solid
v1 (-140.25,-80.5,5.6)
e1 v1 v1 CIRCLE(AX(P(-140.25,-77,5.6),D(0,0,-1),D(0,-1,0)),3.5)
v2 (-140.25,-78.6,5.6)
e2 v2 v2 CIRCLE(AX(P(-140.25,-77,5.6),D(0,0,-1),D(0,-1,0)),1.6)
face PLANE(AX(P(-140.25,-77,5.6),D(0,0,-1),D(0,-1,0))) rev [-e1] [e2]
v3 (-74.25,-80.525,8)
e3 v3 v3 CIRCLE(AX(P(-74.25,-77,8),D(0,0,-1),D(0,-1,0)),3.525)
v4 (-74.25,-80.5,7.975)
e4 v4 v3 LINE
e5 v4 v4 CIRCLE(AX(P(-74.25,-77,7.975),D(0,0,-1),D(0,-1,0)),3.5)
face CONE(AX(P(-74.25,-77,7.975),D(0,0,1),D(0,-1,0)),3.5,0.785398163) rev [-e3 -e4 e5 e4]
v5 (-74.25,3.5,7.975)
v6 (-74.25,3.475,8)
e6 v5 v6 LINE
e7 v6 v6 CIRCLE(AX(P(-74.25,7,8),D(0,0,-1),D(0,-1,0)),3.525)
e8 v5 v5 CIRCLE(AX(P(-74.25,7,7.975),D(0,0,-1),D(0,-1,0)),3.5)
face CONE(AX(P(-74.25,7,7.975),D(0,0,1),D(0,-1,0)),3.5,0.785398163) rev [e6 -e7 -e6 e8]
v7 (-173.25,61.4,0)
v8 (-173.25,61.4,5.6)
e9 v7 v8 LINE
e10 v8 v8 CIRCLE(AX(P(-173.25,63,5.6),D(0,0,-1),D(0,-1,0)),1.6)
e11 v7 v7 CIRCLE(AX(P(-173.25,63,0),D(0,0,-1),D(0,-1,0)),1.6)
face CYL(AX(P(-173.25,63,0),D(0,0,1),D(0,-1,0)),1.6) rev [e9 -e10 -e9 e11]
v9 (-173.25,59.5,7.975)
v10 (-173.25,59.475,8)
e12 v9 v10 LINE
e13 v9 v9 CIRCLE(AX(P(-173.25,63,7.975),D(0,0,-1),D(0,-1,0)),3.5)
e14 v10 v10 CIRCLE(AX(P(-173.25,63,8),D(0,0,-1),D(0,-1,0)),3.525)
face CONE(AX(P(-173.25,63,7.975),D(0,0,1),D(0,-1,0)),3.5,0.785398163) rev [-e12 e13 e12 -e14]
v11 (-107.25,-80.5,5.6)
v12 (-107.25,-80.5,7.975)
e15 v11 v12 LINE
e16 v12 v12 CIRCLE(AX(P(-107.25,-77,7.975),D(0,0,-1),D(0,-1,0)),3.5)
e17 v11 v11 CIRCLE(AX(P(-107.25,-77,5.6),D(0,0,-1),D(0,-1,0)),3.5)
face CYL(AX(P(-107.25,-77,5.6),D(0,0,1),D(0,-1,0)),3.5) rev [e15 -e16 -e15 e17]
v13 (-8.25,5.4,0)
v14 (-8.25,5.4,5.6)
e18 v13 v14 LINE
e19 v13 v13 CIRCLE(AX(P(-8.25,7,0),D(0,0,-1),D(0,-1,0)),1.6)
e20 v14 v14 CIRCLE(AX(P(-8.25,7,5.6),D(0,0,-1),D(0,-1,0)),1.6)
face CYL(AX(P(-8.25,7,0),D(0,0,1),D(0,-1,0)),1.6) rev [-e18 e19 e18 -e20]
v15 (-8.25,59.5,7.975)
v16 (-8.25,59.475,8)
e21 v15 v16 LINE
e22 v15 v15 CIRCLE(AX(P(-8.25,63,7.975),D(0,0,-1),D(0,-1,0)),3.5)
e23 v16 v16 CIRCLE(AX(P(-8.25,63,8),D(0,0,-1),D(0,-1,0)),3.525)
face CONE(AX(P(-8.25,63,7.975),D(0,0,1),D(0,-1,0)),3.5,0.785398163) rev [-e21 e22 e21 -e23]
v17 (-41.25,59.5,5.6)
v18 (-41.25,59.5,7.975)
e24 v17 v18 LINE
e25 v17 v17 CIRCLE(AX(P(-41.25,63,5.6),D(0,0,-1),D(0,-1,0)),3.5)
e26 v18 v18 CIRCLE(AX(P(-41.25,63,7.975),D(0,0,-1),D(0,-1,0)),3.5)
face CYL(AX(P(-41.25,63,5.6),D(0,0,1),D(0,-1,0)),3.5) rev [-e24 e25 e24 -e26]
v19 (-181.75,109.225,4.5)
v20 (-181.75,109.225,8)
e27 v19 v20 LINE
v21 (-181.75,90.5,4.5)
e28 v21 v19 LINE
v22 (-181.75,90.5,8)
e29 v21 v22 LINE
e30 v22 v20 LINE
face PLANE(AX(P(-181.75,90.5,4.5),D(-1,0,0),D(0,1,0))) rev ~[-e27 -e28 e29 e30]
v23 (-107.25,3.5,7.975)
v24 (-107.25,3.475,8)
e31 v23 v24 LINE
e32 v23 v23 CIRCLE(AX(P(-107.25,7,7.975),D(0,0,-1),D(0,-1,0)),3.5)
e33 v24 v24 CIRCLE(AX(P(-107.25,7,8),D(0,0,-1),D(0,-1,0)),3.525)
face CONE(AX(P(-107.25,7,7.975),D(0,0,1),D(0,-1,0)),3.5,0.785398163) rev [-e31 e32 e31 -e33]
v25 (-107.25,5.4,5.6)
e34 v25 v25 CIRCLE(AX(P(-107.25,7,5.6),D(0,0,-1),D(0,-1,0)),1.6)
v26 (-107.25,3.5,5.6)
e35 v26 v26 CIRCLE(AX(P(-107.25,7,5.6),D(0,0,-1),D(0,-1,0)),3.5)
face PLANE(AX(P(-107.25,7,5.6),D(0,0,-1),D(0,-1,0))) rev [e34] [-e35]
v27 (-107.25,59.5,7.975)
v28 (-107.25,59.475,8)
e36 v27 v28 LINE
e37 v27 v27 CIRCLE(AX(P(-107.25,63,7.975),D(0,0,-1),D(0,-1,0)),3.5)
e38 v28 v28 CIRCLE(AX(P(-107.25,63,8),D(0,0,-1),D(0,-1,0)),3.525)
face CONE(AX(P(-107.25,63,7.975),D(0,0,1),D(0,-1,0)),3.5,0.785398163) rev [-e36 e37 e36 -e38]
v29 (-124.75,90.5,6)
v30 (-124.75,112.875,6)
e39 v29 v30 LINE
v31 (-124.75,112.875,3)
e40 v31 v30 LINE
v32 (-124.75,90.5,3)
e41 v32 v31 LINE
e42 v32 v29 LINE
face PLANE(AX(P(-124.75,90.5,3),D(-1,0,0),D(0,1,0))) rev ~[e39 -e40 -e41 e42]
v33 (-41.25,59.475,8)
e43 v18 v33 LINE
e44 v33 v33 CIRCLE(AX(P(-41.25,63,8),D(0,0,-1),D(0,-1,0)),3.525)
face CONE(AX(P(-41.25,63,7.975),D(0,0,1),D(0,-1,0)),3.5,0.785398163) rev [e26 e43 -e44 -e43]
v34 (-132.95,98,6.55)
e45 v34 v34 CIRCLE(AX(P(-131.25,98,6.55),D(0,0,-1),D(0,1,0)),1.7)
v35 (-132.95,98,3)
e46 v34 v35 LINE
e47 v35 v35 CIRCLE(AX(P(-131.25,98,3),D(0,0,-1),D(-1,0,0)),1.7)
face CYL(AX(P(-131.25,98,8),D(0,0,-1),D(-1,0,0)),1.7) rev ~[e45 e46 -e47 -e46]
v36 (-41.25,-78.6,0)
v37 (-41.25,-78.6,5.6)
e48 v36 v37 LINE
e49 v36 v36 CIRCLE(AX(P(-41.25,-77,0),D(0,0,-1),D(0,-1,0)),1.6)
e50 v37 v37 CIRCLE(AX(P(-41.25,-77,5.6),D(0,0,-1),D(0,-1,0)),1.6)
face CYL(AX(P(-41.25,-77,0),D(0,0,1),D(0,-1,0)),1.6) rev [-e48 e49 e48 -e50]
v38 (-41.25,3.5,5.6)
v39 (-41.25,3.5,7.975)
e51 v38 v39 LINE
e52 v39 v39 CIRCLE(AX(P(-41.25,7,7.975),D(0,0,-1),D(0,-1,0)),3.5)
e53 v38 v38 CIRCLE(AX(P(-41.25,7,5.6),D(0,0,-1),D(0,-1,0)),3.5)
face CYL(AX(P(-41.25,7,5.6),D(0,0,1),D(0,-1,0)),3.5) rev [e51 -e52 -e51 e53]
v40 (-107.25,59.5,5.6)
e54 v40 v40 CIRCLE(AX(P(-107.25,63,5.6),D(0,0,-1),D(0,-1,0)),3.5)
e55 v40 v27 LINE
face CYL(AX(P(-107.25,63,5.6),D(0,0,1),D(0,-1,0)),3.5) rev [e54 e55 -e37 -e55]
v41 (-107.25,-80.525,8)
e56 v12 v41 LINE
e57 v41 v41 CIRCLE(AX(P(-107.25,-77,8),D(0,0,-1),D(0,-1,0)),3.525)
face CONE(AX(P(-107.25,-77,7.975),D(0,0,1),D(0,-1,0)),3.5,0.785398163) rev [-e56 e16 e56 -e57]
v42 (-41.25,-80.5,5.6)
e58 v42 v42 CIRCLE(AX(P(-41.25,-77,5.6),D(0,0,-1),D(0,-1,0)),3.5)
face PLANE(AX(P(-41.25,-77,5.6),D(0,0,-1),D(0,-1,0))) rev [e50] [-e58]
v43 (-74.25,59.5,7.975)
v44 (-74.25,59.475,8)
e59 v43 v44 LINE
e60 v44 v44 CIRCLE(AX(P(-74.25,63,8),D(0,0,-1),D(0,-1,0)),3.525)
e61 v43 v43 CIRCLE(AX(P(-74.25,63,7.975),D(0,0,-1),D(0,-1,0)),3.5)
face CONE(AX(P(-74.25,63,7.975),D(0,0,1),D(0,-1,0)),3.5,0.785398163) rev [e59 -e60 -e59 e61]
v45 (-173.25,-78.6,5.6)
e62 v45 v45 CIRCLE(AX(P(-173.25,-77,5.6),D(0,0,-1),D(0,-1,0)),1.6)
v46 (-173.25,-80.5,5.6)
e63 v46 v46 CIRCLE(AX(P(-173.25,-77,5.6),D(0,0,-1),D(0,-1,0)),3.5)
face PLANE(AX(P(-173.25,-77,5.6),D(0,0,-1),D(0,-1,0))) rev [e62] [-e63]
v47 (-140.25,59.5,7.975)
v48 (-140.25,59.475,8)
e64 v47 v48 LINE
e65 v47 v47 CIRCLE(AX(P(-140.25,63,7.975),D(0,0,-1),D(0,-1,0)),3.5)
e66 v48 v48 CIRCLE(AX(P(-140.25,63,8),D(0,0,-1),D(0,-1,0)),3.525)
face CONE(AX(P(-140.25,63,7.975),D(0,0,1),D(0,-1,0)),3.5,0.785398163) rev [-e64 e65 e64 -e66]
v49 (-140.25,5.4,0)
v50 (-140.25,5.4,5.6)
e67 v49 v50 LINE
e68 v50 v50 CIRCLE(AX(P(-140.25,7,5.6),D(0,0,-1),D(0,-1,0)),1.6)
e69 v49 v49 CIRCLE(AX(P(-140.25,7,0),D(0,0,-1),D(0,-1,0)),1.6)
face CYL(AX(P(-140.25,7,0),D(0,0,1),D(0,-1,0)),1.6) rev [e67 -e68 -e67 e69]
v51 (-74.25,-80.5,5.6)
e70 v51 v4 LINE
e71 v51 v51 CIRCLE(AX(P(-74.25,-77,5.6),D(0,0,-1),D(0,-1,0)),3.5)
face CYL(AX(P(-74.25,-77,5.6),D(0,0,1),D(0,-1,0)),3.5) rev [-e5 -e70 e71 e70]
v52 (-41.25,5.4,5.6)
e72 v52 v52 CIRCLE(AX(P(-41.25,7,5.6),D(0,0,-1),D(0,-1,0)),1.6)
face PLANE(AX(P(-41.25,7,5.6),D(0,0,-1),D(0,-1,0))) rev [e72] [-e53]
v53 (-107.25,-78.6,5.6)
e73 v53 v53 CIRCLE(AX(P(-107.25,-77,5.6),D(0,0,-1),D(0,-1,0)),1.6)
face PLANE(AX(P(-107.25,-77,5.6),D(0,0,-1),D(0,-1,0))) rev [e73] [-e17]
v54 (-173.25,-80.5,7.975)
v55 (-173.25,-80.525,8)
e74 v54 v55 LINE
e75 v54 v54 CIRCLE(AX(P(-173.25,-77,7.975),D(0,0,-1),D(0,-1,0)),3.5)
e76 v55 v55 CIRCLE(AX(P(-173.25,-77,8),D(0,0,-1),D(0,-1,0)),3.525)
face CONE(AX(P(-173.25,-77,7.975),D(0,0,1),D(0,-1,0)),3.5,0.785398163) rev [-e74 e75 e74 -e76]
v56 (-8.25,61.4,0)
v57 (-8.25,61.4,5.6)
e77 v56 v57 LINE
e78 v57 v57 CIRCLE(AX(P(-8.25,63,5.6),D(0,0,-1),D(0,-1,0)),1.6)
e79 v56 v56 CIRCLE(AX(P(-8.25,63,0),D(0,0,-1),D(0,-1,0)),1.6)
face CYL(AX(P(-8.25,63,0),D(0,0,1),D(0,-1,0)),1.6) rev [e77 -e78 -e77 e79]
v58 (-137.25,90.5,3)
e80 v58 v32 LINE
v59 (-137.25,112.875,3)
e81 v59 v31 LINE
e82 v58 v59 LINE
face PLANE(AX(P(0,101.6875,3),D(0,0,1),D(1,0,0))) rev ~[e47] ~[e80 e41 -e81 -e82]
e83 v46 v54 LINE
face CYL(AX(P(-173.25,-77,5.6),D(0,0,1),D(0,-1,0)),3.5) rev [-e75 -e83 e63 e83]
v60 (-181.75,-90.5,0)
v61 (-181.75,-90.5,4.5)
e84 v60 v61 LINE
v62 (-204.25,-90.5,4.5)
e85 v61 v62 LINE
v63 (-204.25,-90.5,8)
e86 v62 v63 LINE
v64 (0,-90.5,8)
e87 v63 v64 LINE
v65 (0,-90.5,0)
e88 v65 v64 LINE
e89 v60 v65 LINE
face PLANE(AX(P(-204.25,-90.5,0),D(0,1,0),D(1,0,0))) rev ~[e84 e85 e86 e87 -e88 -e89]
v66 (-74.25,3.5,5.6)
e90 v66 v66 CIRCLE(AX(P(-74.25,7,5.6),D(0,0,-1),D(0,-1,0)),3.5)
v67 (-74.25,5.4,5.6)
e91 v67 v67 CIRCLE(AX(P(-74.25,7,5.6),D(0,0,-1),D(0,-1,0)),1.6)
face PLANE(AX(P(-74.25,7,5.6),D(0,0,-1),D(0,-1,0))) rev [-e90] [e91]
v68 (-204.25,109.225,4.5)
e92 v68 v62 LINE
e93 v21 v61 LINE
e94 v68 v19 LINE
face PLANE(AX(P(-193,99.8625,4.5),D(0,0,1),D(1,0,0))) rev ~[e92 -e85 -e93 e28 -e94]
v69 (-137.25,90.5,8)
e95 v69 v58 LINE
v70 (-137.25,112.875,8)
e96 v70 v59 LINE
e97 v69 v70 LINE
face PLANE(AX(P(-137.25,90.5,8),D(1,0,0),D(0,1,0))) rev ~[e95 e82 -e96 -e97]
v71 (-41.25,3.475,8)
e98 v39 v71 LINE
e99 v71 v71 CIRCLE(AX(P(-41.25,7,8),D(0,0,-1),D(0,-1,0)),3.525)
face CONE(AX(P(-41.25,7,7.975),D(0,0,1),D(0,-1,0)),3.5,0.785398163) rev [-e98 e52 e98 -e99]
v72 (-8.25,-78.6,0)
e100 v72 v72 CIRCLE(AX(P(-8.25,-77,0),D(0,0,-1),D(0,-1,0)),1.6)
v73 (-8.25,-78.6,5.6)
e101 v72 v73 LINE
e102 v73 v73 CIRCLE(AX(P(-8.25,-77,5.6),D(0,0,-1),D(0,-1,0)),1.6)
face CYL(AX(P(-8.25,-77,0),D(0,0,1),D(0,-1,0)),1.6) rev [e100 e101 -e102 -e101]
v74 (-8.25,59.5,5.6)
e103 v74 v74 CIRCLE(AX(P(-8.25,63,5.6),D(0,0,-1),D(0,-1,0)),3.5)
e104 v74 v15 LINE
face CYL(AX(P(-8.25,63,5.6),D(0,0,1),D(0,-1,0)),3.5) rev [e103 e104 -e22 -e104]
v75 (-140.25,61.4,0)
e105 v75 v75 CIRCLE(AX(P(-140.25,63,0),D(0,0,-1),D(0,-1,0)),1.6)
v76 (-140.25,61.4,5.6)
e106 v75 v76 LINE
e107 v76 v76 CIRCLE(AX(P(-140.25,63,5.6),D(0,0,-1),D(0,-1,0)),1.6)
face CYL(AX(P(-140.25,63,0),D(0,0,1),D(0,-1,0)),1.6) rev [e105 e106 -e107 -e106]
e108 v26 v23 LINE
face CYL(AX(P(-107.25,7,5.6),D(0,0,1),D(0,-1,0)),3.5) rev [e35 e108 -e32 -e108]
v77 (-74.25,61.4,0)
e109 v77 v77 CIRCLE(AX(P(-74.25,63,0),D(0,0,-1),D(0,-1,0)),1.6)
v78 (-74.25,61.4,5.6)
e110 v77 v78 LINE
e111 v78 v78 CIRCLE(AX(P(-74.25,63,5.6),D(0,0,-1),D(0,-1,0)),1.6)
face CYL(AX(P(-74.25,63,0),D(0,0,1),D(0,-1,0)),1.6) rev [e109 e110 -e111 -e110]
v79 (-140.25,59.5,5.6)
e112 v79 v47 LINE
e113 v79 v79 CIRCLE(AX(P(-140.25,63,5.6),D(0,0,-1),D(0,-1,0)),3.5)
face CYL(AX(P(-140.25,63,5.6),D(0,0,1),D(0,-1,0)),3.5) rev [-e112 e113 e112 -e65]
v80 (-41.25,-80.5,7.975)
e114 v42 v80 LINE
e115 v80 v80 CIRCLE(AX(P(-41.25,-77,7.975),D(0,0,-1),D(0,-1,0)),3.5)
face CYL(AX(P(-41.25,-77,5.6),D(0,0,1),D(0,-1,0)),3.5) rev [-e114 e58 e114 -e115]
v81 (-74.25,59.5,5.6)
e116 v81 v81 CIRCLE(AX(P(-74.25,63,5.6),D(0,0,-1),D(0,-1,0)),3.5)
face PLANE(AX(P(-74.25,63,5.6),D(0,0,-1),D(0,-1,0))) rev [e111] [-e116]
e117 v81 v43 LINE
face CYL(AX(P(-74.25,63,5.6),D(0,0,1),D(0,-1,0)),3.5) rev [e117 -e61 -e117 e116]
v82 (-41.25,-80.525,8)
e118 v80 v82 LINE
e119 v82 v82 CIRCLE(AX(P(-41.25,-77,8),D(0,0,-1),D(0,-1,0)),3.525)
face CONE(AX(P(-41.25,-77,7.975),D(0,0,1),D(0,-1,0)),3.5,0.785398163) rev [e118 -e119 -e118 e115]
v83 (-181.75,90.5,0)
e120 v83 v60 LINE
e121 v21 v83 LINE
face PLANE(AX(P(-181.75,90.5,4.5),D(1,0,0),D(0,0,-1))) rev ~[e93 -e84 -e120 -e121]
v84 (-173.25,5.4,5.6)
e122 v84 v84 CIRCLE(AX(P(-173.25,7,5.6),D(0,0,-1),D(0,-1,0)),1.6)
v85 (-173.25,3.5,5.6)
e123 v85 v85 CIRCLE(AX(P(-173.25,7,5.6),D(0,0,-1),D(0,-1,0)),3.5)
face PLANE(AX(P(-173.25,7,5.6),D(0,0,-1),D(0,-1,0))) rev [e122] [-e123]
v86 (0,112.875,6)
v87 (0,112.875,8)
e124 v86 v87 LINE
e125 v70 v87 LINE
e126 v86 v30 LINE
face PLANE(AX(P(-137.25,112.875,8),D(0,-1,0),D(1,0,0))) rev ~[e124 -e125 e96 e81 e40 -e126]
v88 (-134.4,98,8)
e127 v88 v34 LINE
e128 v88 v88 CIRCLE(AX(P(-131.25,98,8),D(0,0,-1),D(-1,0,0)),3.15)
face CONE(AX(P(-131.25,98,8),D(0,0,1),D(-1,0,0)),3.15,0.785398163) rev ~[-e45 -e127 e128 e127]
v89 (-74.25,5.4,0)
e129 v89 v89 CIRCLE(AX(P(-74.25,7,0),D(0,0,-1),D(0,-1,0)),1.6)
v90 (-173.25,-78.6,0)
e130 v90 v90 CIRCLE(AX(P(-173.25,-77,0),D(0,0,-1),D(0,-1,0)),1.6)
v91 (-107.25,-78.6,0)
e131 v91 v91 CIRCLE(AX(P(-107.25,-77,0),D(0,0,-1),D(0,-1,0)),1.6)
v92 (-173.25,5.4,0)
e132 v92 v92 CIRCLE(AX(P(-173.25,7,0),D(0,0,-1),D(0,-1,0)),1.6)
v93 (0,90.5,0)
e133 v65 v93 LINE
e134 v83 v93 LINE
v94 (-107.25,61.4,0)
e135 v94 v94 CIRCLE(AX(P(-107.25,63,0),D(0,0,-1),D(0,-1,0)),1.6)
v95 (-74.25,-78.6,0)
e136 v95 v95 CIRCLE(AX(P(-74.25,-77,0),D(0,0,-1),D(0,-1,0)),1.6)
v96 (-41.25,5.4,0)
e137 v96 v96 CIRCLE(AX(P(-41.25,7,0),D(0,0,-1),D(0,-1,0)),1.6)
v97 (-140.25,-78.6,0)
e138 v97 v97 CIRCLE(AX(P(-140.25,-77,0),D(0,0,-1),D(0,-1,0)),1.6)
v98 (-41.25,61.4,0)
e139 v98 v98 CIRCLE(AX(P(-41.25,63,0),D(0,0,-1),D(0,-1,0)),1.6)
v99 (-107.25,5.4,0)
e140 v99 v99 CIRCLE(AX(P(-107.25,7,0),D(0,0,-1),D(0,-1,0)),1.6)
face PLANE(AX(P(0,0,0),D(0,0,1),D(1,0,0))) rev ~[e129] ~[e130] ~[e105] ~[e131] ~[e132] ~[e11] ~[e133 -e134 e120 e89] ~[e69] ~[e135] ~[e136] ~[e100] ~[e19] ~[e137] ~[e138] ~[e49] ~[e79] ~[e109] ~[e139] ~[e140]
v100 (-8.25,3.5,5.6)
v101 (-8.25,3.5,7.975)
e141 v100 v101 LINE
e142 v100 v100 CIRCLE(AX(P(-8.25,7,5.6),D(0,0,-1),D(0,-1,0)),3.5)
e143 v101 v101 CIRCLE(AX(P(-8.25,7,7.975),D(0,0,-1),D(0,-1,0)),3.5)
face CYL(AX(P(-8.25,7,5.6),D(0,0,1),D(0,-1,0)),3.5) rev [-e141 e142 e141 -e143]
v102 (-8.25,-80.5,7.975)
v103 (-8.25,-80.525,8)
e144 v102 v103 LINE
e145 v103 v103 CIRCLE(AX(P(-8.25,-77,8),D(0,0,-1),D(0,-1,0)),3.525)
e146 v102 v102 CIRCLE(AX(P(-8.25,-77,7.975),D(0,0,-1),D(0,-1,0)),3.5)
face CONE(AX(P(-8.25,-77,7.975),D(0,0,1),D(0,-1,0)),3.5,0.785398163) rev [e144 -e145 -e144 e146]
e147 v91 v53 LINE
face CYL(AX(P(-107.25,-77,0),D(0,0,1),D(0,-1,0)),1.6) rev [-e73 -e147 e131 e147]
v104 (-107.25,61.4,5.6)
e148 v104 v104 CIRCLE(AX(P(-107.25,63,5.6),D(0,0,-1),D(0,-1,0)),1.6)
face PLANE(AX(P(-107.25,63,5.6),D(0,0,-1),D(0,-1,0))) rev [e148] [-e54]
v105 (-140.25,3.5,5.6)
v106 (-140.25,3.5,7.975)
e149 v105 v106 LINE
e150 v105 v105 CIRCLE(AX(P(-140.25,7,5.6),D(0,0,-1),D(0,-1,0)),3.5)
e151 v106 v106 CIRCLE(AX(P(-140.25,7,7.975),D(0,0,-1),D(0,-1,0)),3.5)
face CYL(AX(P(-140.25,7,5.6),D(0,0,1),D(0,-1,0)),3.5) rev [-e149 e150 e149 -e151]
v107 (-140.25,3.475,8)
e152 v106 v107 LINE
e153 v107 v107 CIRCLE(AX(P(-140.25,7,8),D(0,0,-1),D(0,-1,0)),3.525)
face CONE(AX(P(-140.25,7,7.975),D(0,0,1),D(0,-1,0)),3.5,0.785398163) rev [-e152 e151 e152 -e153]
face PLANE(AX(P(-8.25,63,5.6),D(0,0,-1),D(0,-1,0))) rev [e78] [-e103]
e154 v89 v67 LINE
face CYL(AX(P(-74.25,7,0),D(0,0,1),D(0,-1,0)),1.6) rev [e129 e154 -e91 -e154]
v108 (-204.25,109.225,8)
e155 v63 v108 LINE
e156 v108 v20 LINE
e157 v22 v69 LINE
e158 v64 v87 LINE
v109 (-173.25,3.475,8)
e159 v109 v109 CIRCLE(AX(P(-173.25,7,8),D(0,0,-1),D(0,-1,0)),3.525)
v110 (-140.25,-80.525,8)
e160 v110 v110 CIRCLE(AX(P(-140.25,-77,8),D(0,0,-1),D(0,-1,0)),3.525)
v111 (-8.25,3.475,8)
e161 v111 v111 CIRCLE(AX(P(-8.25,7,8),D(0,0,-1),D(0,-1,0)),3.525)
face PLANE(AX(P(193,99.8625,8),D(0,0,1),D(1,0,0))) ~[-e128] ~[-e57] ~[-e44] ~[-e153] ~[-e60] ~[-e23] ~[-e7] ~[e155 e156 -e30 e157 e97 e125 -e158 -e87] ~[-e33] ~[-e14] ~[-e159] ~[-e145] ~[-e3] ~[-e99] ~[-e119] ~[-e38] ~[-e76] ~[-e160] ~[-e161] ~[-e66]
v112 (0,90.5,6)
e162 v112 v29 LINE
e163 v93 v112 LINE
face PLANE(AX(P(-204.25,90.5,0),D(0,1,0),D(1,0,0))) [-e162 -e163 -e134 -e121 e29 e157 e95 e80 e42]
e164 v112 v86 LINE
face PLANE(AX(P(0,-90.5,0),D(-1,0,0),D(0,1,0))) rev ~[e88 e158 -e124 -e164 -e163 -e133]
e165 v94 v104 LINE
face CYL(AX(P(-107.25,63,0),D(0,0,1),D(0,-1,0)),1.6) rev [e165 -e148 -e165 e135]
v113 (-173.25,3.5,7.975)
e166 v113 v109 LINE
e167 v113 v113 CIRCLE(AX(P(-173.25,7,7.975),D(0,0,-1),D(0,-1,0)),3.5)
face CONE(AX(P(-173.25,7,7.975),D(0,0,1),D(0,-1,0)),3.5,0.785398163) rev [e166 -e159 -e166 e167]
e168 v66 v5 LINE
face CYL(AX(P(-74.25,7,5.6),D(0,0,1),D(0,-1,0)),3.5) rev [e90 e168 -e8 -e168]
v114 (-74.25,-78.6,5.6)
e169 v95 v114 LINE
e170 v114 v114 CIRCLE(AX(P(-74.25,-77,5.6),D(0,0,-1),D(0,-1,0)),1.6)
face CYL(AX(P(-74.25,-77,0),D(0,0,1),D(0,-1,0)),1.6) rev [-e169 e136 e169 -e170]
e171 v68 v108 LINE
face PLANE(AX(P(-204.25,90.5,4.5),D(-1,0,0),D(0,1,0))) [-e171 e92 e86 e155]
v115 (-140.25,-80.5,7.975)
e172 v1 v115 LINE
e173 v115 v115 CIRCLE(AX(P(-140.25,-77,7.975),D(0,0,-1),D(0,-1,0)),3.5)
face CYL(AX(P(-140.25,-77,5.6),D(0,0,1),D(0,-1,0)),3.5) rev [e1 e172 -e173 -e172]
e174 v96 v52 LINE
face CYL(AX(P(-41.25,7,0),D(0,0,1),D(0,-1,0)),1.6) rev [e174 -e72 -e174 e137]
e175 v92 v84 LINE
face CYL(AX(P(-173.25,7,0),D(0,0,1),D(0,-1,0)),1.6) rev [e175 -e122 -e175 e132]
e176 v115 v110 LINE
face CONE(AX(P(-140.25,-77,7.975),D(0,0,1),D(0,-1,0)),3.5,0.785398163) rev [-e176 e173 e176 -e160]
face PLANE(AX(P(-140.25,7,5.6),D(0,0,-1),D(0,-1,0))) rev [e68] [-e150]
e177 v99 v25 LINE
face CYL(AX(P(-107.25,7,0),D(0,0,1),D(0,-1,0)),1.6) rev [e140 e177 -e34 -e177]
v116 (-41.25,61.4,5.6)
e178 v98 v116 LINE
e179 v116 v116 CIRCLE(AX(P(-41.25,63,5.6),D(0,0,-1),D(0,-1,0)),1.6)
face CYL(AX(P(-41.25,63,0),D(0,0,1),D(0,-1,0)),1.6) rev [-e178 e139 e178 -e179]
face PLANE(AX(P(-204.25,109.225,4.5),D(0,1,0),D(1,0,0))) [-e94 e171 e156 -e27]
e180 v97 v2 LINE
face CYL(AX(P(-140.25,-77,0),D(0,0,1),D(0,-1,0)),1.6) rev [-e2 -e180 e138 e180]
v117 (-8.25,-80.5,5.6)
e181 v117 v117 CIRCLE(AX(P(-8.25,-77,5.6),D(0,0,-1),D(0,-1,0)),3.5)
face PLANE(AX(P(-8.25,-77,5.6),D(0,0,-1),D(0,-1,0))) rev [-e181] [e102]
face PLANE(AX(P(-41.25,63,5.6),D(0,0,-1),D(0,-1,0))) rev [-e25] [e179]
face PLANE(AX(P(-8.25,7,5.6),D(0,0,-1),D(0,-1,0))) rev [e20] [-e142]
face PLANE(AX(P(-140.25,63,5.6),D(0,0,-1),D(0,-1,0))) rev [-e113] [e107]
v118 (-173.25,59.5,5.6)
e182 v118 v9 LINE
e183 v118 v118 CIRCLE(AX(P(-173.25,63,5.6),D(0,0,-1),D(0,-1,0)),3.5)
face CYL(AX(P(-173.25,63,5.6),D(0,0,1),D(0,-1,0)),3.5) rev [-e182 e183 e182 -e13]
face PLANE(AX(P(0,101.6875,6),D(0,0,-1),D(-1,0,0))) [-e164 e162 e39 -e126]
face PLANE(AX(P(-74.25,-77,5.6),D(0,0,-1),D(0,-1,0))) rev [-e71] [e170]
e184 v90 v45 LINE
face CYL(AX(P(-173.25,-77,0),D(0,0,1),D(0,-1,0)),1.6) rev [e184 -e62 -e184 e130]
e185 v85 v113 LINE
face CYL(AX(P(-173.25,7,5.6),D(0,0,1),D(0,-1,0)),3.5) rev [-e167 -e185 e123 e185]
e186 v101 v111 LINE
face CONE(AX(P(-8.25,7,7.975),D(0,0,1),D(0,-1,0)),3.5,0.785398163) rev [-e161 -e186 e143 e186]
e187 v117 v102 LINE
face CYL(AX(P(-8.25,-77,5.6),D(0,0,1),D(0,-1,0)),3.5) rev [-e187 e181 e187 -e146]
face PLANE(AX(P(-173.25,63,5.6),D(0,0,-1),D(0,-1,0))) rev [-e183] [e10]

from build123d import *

# Parameters (mm, degrees)
ESQUISSE1_W                                    = 408.5
ESQUISSE1_H                                    = 181
BOSS_EXTRU_1_DEPTH                             = 8
CHAMBRAGE_POUR_VIS_T_TE_RONDE_BOMB_2_COUNT     = 2
CHAMBRAGE_POUR_VIS_T_TE_RONDE_BOMB_2_PITCH     = 56
CHAMBRAGE_POUR_VIS_T_TE_RONDE_BOMB_3_COUNT     = 2
CHAMBRAGE_POUR_VIS_T_TE_RONDE_BOMB_3_PITCH     = 140
R_P_TITION_LIN_AIRE1_COUNT                     = 11
R_P_TITION_LIN_AIRE1_PITCH                     = 33
ENL_V_MAT_EXTRU_1_REACH                        = 275.026
ESQUISSE6_W                                    = 22.5
ESQUISSE6_H                                    = 4.5
BOSS_EXTRU_2_START                             = -3.5
ESQUISSE7_W                                    = 22.5
ESQUISSE7_H                                    = 18.725
BOSS_EXTRU_2_DEPTH                             = 3.5
ESQUISSE8_W                                    = 274.5
ESQUISSE8_H                                    = 22.375
BOSS_EXTRU_3_DEPTH                             = 5
FRAISAGE_POUR_VIS_T_TE_FRAIS_E_M31_D           = 3.4
FRAISAGE_POUR_VIS_T_TE_FRAIS_E_M31_CSINK_D     = 6.3
FRAISAGE_POUR_VIS_T_TE_FRAIS_E_M31_CSINK_ANGLE = 90
ESQUISSE12_W                                   = 249.5
ESQUISSE12_H                                   = 22.375
ENL_V_MAT_EXTRU_2_DEPTH                        = 3
ESQUISSE13_W                                   = 204.25
ESQUISSE13_H                                   = 203.375
ENL_V_MAT_EXTRU_3_DEPTH                        = 10


with BuildPart() as part:
    # Esquisse1 → Boss.-Extru.1 (new body)
    with BuildSketch(Plane.XY):
        Rectangle(ESQUISSE1_W, ESQUISSE1_H)
    extrude(amount=BOSS_EXTRU_1_DEPTH)

    # Esquisse3 → Chambrage pour vis à tête ronde bombée M31 (revolve, cut)
    with BuildSketch(Plane(origin=(-173.25, 63, 8), x_dir=(0, -1, 0), z_dir=(1, 0, 0))):
        Polygon((0, 0), (0, 8), (1.6, 8), (1.6, 2.4), (3.5, 2.4), (3.5, 0.025), (3.525, 0), align=None)
    chambrage_pour_vis_t_te_ronde_bomb_e_m = revolve(axis=Axis((-173.25, 63, 14.35), (0, 0, -1)), mode=Mode.SUBTRACT)

    # Chambrage pour vis _ t_te ronde bomb 2: Chambrage pour vis à tête ronde bombée M31 ×2
    with Locations(*[(0, -i * CHAMBRAGE_POUR_VIS_T_TE_RONDE_BOMB_2_PITCH, 0) for i in range(1, CHAMBRAGE_POUR_VIS_T_TE_RONDE_BOMB_2_COUNT)]):
        add(chambrage_pour_vis_t_te_ronde_bomb_e_m, mode=Mode.SUBTRACT)

    # Chambrage pour vis _ t_te ronde bomb 3: Chambrage pour vis à tête ronde bombée M31 ×2
    with Locations(*[(0, -i * CHAMBRAGE_POUR_VIS_T_TE_RONDE_BOMB_3_PITCH, 0) for i in range(1, CHAMBRAGE_POUR_VIS_T_TE_RONDE_BOMB_3_COUNT)]):
        add(chambrage_pour_vis_t_te_ronde_bomb_e_m, mode=Mode.SUBTRACT)

    # Répétition linéaire1: Chambrage pour vis à tête ronde bombée M31 ×11
    with Locations(*[(i * R_P_TITION_LIN_AIRE1_PITCH, 0, 0) for i in range(1, R_P_TITION_LIN_AIRE1_COUNT)]):
        add(chambrage_pour_vis_t_te_ronde_bomb_e_m, mode=Mode.SUBTRACT)

    # Répétition linéaire1 copy 1 sketch → Répétition linéaire1 copy 1 (revolve, cut)
    with BuildSketch(Plane(origin=(-140.25, 7, 8), x_dir=(0, -1, 0), z_dir=(1, 0, 0))):
        Polygon((0, 0), (0, 8), (1.6, 8), (1.6, 2.4), (3.5, 2.4), (3.5, 0.025), (3.525, 0), align=None)
    revolve(axis=Axis((-140.25, 7, 14.35), (0, 0, -1)), mode=Mode.SUBTRACT)

    # Répétition linéaire1 copy 2 sketch → Répétition linéaire1 copy 2 (revolve, cut)
    with BuildSketch(Plane(origin=(-107.25, 7, 8), x_dir=(0, -1, 0), z_dir=(1, 0, 0))):
        Polygon((0, 0), (0, 8), (1.6, 8), (1.6, 2.4), (3.5, 2.4), (3.5, 0.025), (3.525, 0), align=None)
    revolve(axis=Axis((-107.25, 7, 14.35), (0, 0, -1)), mode=Mode.SUBTRACT)

    # Répétition linéaire1 copy 3 sketch → Répétition linéaire1 copy 3 (revolve, cut)
    with BuildSketch(Plane(origin=(-74.25, 7, 8), x_dir=(0, -1, 0), z_dir=(1, 0, 0))):
        Polygon((0, 0), (0, 8), (1.6, 8), (1.6, 2.4), (3.5, 2.4), (3.5, 0.025), (3.525, 0), align=None)
    revolve(axis=Axis((-74.25, 7, 14.35), (0, 0, -1)), mode=Mode.SUBTRACT)

    # Répétition linéaire1 copy 4 sketch → Répétition linéaire1 copy 4 (revolve, cut)
    with BuildSketch(Plane(origin=(-41.25, 7, 8), x_dir=(0, -1, 0), z_dir=(1, 0, 0))):
        Polygon((0, 0), (0, 8), (1.6, 8), (1.6, 2.4), (3.5, 2.4), (3.5, 0.025), (3.525, 0), align=None)
    revolve(axis=Axis((-41.25, 7, 14.35), (0, 0, -1)), mode=Mode.SUBTRACT)

    # Répétition linéaire1 copy 5 sketch → Répétition linéaire1 copy 5 (revolve, cut)
    with BuildSketch(Plane(origin=(-8.25, 7, 8), x_dir=(0, -1, 0), z_dir=(1, 0, 0))):
        Polygon((0, 0), (0, 8), (1.6, 8), (1.6, 2.4), (3.5, 2.4), (3.5, 0.025), (3.525, 0), align=None)
    revolve(axis=Axis((-8.25, 7, 14.35), (0, 0, -1)), mode=Mode.SUBTRACT)

    # Répétition linéaire1 copy 6 sketch → Répétition linéaire1 copy 6 (revolve, cut)
    with BuildSketch(Plane(origin=(24.75, 7, 8), x_dir=(0, -1, 0), z_dir=(1, 0, 0))):
        Polygon((0, 0), (0, 8), (1.6, 8), (1.6, 2.4), (3.5, 2.4), (3.5, 0.025), (3.525, 0), align=None)
    revolve(axis=Axis((24.75, 7, 14.35), (0, 0, -1)), mode=Mode.SUBTRACT)

    # Répétition linéaire1 copy 7 sketch → Répétition linéaire1 copy 7 (revolve, cut)
    with BuildSketch(Plane(origin=(57.75, 7, 8), x_dir=(0, -1, 0), z_dir=(1, 0, 0))):
        Polygon((0, 0), (0, 8), (1.6, 8), (1.6, 2.4), (3.5, 2.4), (3.5, 0.025), (3.525, 0), align=None)
    revolve(axis=Axis((57.75, 7, 14.35), (0, 0, -1)), mode=Mode.SUBTRACT)

    # Répétition linéaire1 copy 8 sketch → Répétition linéaire1 copy 8 (revolve, cut)
    with BuildSketch(Plane(origin=(90.75, 7, 8), x_dir=(0, -1, 0), z_dir=(1, 0, 0))):
        Polygon((0, 0), (0, 8), (1.6, 8), (1.6, 2.4), (3.5, 2.4), (3.5, 0.025), (3.525, 0), align=None)
    revolve(axis=Axis((90.75, 7, 14.35), (0, 0, -1)), mode=Mode.SUBTRACT)

    # Répétition linéaire1 copy 9 sketch → Répétition linéaire1 copy 9 (revolve, cut)
    with BuildSketch(Plane(origin=(123.75, 7, 8), x_dir=(0, -1, 0), z_dir=(1, 0, 0))):
        Polygon((0, 0), (0, 8), (1.6, 8), (1.6, 2.4), (3.5, 2.4), (3.5, 0.025), (3.525, 0), align=None)
    revolve(axis=Axis((123.75, 7, 14.35), (0, 0, -1)), mode=Mode.SUBTRACT)

    # Répétition linéaire1 copy 10 sketch → Répétition linéaire1 copy 10 (revolve, cut)
    with BuildSketch(Plane(origin=(156.75, 7, 8), x_dir=(0, -1, 0), z_dir=(1, 0, 0))):
        Polygon((0, 0), (0, 8), (1.6, 8), (1.6, 2.4), (3.5, 2.4), (3.5, 0.025), (3.525, 0), align=None)
    revolve(axis=Axis((156.75, 7, 14.35), (0, 0, -1)), mode=Mode.SUBTRACT)

    # Répétition linéaire1 copy 11 sketch → Répétition linéaire1 copy 11 (revolve, cut)
    with BuildSketch(Plane(origin=(-140.25, -77, 8), x_dir=(0, -1, 0), z_dir=(1, 0, 0))):
        Polygon((0, 0), (0, 8), (1.6, 8), (1.6, 2.4), (3.5, 2.4), (3.5, 0.025), (3.525, 0), align=None)
    revolve(axis=Axis((-140.25, -77, 14.35), (0, 0, -1)), mode=Mode.SUBTRACT)

    # Répétition linéaire1 copy 12 sketch → Répétition linéaire1 copy 12 (revolve, cut)
    with BuildSketch(Plane(origin=(-107.25, -77, 8), x_dir=(0, -1, 0), z_dir=(1, 0, 0))):
        Polygon((0, 0), (0, 8), (1.6, 8), (1.6, 2.4), (3.5, 2.4), (3.5, 0.025), (3.525, 0), align=None)
    revolve(axis=Axis((-107.25, -77, 14.35), (0, 0, -1)), mode=Mode.SUBTRACT)

    # Répétition linéaire1 copy 13 sketch → Répétition linéaire1 copy 13 (revolve, cut)
    with BuildSketch(Plane(origin=(-74.25, -77, 8), x_dir=(0, -1, 0), z_dir=(1, 0, 0))):
        Polygon((0, 0), (0, 8), (1.6, 8), (1.6, 2.4), (3.5, 2.4), (3.5, 0.025), (3.525, 0), align=None)
    revolve(axis=Axis((-74.25, -77, 14.35), (0, 0, -1)), mode=Mode.SUBTRACT)

    # Répétition linéaire1 copy 14 sketch → Répétition linéaire1 copy 14 (revolve, cut)
    with BuildSketch(Plane(origin=(-41.25, -77, 8), x_dir=(0, -1, 0), z_dir=(1, 0, 0))):
        Polygon((0, 0), (0, 8), (1.6, 8), (1.6, 2.4), (3.5, 2.4), (3.5, 0.025), (3.525, 0), align=None)
    revolve(axis=Axis((-41.25, -77, 14.35), (0, 0, -1)), mode=Mode.SUBTRACT)

    # Répétition linéaire1 copy 15 sketch → Répétition linéaire1 copy 15 (revolve, cut)
    with BuildSketch(Plane(origin=(-8.25, -77, 8), x_dir=(0, -1, 0), z_dir=(1, 0, 0))):
        Polygon((0, 0), (0, 8), (1.6, 8), (1.6, 2.4), (3.5, 2.4), (3.5, 0.025), (3.525, 0), align=None)
    revolve(axis=Axis((-8.25, -77, 14.35), (0, 0, -1)), mode=Mode.SUBTRACT)

    # Répétition linéaire1 copy 16 sketch → Répétition linéaire1 copy 16 (revolve, cut)
    with BuildSketch(Plane(origin=(24.75, -77, 8), x_dir=(0, -1, 0), z_dir=(1, 0, 0))):
        Polygon((0, 0), (0, 8), (1.6, 8), (1.6, 2.4), (3.5, 2.4), (3.5, 0.025), (3.525, 0), align=None)
    revolve(axis=Axis((24.75, -77, 14.35), (0, 0, -1)), mode=Mode.SUBTRACT)

    # Répétition linéaire1 copy 17 sketch → Répétition linéaire1 copy 17 (revolve, cut)
    with BuildSketch(Plane(origin=(57.75, -77, 8), x_dir=(0, -1, 0), z_dir=(1, 0, 0))):
        Polygon((0, 0), (0, 8), (1.6, 8), (1.6, 2.4), (3.5, 2.4), (3.5, 0.025), (3.525, 0), align=None)
    revolve(axis=Axis((57.75, -77, 14.35), (0, 0, -1)), mode=Mode.SUBTRACT)

    # Répétition linéaire1 copy 18 sketch → Répétition linéaire1 copy 18 (revolve, cut)
    with BuildSketch(Plane(origin=(90.75, -77, 8), x_dir=(0, -1, 0), z_dir=(1, 0, 0))):
        Polygon((0, 0), (0, 8), (1.6, 8), (1.6, 2.4), (3.5, 2.4), (3.5, 0.025), (3.525, 0), align=None)
    revolve(axis=Axis((90.75, -77, 14.35), (0, 0, -1)), mode=Mode.SUBTRACT)

    # Répétition linéaire1 copy 19 sketch → Répétition linéaire1 copy 19 (revolve, cut)
    with BuildSketch(Plane(origin=(123.75, -77, 8), x_dir=(0, -1, 0), z_dir=(1, 0, 0))):
        Polygon((0, 0), (0, 8), (1.6, 8), (1.6, 2.4), (3.5, 2.4), (3.5, 0.025), (3.525, 0), align=None)
    revolve(axis=Axis((123.75, -77, 14.35), (0, 0, -1)), mode=Mode.SUBTRACT)

    # Répétition linéaire1 copy 20 sketch → Répétition linéaire1 copy 20 (revolve, cut)
    with BuildSketch(Plane(origin=(156.75, -77, 8), x_dir=(0, -1, 0), z_dir=(1, 0, 0))):
        Polygon((0, 0), (0, 8), (1.6, 8), (1.6, 2.4), (3.5, 2.4), (3.5, 0.025), (3.525, 0), align=None)
    revolve(axis=Axis((156.75, -77, 14.35), (0, 0, -1)), mode=Mode.SUBTRACT)

    # Esquisse6 → Enlèv. mat.-Extru.1 (cut, up to next)
    with BuildSketch(Plane(origin=(0, 90.5, 0), x_dir=(1, 0, 0), z_dir=(0, 1, 0)), mode=Mode.PRIVATE) as enl_v_mat_extru_1_sk1:
        with Locations((-193, -2.25)):
            Rectangle(ESQUISSE6_W, ESQUISSE6_H)
    enl_v_mat_extru_1_tool1 = extrude(enl_v_mat_extru_1_sk1.sketch, amount=-ENL_V_MAT_EXTRU_1_REACH, mode=Mode.PRIVATE) & part.part
    # Esquisse6 → Enlèv. mat.-Extru.1 (cut, up to next)
    with BuildSketch(Plane(origin=(0, 90.5, 0), x_dir=(1, 0, 0), z_dir=(0, 1, 0)), mode=Mode.PRIVATE) as enl_v_mat_extru_1_sk2:
        with Locations((193, -2.25)):
            Rectangle(ESQUISSE6_W, ESQUISSE6_H)
    enl_v_mat_extru_1_tool2 = extrude(enl_v_mat_extru_1_sk2.sketch, amount=-ENL_V_MAT_EXTRU_1_REACH, mode=Mode.PRIVATE) & part.part
    add(enl_v_mat_extru_1_tool1.solids().sort_by_distance((-193, 90.5, 2.25))[0], mode=Mode.SUBTRACT)
    add(enl_v_mat_extru_1_tool2.solids().sort_by_distance((193, 90.5, 2.25))[0], mode=Mode.SUBTRACT)

    # Esquisse7 → Boss.-Extru.2 (add)
    with BuildSketch(Plane.XY.offset(8).offset(BOSS_EXTRU_2_START)):
        with Locations((-193, 99.8625)):
            Rectangle(ESQUISSE7_W, ESQUISSE7_H)
    boss_extru_2 = extrude(amount=BOSS_EXTRU_2_DEPTH)

    # Symétrie1: Boss.-Extru.2 across plane
    add(boss_extru_2.mirror(Plane(origin=(0, 0, 0), x_dir=(0, 0, 1), z_dir=(1, 0, 0))))

    # Esquisse8 → Boss.-Extru.3 (add)
    with BuildSketch(Plane.XY.offset(8)):
        with Locations((0, 101.6875)):
            Rectangle(ESQUISSE8_W, ESQUISSE8_H)
    extrude(amount=-BOSS_EXTRU_3_DEPTH)

    # Fraisage pour vis à tête fraisée M31 (through all)
    with Locations(Plane.XY.offset(8)):
        with Locations((-131.25, 98), (131.25, 98)):
            CounterSinkHole(FRAISAGE_POUR_VIS_T_TE_FRAIS_E_M31_D / 2, FRAISAGE_POUR_VIS_T_TE_FRAIS_E_M31_CSINK_D / 2, counter_sink_angle=FRAISAGE_POUR_VIS_T_TE_FRAIS_E_M31_CSINK_ANGLE)

    # Esquisse12 → Enlèv. mat.-Extru.2 (cut)
    with BuildSketch(Plane(origin=(0, 0, 3), x_dir=(-1, 0, 0), z_dir=(0, 0, -1))):
        with Locations((0, 101.6875)):
            Rectangle(ESQUISSE12_W, ESQUISSE12_H)
    extrude(amount=-ENL_V_MAT_EXTRU_2_DEPTH, mode=Mode.SUBTRACT)

    # Esquisse13 → Enlèv. mat.-Extru.3 (cut)
    with BuildSketch(Plane(origin=(0, 0, 0), x_dir=(-1, 0, 0), z_dir=(0, 0, -1))):
        with Locations((-102.125, 11.1875)):
            Rectangle(ESQUISSE13_W, ESQUISSE13_H)
    extrude(amount=-ENL_V_MAT_EXTRU_3_DEPTH, mode=Mode.SUBTRACT)


solid = part.part
